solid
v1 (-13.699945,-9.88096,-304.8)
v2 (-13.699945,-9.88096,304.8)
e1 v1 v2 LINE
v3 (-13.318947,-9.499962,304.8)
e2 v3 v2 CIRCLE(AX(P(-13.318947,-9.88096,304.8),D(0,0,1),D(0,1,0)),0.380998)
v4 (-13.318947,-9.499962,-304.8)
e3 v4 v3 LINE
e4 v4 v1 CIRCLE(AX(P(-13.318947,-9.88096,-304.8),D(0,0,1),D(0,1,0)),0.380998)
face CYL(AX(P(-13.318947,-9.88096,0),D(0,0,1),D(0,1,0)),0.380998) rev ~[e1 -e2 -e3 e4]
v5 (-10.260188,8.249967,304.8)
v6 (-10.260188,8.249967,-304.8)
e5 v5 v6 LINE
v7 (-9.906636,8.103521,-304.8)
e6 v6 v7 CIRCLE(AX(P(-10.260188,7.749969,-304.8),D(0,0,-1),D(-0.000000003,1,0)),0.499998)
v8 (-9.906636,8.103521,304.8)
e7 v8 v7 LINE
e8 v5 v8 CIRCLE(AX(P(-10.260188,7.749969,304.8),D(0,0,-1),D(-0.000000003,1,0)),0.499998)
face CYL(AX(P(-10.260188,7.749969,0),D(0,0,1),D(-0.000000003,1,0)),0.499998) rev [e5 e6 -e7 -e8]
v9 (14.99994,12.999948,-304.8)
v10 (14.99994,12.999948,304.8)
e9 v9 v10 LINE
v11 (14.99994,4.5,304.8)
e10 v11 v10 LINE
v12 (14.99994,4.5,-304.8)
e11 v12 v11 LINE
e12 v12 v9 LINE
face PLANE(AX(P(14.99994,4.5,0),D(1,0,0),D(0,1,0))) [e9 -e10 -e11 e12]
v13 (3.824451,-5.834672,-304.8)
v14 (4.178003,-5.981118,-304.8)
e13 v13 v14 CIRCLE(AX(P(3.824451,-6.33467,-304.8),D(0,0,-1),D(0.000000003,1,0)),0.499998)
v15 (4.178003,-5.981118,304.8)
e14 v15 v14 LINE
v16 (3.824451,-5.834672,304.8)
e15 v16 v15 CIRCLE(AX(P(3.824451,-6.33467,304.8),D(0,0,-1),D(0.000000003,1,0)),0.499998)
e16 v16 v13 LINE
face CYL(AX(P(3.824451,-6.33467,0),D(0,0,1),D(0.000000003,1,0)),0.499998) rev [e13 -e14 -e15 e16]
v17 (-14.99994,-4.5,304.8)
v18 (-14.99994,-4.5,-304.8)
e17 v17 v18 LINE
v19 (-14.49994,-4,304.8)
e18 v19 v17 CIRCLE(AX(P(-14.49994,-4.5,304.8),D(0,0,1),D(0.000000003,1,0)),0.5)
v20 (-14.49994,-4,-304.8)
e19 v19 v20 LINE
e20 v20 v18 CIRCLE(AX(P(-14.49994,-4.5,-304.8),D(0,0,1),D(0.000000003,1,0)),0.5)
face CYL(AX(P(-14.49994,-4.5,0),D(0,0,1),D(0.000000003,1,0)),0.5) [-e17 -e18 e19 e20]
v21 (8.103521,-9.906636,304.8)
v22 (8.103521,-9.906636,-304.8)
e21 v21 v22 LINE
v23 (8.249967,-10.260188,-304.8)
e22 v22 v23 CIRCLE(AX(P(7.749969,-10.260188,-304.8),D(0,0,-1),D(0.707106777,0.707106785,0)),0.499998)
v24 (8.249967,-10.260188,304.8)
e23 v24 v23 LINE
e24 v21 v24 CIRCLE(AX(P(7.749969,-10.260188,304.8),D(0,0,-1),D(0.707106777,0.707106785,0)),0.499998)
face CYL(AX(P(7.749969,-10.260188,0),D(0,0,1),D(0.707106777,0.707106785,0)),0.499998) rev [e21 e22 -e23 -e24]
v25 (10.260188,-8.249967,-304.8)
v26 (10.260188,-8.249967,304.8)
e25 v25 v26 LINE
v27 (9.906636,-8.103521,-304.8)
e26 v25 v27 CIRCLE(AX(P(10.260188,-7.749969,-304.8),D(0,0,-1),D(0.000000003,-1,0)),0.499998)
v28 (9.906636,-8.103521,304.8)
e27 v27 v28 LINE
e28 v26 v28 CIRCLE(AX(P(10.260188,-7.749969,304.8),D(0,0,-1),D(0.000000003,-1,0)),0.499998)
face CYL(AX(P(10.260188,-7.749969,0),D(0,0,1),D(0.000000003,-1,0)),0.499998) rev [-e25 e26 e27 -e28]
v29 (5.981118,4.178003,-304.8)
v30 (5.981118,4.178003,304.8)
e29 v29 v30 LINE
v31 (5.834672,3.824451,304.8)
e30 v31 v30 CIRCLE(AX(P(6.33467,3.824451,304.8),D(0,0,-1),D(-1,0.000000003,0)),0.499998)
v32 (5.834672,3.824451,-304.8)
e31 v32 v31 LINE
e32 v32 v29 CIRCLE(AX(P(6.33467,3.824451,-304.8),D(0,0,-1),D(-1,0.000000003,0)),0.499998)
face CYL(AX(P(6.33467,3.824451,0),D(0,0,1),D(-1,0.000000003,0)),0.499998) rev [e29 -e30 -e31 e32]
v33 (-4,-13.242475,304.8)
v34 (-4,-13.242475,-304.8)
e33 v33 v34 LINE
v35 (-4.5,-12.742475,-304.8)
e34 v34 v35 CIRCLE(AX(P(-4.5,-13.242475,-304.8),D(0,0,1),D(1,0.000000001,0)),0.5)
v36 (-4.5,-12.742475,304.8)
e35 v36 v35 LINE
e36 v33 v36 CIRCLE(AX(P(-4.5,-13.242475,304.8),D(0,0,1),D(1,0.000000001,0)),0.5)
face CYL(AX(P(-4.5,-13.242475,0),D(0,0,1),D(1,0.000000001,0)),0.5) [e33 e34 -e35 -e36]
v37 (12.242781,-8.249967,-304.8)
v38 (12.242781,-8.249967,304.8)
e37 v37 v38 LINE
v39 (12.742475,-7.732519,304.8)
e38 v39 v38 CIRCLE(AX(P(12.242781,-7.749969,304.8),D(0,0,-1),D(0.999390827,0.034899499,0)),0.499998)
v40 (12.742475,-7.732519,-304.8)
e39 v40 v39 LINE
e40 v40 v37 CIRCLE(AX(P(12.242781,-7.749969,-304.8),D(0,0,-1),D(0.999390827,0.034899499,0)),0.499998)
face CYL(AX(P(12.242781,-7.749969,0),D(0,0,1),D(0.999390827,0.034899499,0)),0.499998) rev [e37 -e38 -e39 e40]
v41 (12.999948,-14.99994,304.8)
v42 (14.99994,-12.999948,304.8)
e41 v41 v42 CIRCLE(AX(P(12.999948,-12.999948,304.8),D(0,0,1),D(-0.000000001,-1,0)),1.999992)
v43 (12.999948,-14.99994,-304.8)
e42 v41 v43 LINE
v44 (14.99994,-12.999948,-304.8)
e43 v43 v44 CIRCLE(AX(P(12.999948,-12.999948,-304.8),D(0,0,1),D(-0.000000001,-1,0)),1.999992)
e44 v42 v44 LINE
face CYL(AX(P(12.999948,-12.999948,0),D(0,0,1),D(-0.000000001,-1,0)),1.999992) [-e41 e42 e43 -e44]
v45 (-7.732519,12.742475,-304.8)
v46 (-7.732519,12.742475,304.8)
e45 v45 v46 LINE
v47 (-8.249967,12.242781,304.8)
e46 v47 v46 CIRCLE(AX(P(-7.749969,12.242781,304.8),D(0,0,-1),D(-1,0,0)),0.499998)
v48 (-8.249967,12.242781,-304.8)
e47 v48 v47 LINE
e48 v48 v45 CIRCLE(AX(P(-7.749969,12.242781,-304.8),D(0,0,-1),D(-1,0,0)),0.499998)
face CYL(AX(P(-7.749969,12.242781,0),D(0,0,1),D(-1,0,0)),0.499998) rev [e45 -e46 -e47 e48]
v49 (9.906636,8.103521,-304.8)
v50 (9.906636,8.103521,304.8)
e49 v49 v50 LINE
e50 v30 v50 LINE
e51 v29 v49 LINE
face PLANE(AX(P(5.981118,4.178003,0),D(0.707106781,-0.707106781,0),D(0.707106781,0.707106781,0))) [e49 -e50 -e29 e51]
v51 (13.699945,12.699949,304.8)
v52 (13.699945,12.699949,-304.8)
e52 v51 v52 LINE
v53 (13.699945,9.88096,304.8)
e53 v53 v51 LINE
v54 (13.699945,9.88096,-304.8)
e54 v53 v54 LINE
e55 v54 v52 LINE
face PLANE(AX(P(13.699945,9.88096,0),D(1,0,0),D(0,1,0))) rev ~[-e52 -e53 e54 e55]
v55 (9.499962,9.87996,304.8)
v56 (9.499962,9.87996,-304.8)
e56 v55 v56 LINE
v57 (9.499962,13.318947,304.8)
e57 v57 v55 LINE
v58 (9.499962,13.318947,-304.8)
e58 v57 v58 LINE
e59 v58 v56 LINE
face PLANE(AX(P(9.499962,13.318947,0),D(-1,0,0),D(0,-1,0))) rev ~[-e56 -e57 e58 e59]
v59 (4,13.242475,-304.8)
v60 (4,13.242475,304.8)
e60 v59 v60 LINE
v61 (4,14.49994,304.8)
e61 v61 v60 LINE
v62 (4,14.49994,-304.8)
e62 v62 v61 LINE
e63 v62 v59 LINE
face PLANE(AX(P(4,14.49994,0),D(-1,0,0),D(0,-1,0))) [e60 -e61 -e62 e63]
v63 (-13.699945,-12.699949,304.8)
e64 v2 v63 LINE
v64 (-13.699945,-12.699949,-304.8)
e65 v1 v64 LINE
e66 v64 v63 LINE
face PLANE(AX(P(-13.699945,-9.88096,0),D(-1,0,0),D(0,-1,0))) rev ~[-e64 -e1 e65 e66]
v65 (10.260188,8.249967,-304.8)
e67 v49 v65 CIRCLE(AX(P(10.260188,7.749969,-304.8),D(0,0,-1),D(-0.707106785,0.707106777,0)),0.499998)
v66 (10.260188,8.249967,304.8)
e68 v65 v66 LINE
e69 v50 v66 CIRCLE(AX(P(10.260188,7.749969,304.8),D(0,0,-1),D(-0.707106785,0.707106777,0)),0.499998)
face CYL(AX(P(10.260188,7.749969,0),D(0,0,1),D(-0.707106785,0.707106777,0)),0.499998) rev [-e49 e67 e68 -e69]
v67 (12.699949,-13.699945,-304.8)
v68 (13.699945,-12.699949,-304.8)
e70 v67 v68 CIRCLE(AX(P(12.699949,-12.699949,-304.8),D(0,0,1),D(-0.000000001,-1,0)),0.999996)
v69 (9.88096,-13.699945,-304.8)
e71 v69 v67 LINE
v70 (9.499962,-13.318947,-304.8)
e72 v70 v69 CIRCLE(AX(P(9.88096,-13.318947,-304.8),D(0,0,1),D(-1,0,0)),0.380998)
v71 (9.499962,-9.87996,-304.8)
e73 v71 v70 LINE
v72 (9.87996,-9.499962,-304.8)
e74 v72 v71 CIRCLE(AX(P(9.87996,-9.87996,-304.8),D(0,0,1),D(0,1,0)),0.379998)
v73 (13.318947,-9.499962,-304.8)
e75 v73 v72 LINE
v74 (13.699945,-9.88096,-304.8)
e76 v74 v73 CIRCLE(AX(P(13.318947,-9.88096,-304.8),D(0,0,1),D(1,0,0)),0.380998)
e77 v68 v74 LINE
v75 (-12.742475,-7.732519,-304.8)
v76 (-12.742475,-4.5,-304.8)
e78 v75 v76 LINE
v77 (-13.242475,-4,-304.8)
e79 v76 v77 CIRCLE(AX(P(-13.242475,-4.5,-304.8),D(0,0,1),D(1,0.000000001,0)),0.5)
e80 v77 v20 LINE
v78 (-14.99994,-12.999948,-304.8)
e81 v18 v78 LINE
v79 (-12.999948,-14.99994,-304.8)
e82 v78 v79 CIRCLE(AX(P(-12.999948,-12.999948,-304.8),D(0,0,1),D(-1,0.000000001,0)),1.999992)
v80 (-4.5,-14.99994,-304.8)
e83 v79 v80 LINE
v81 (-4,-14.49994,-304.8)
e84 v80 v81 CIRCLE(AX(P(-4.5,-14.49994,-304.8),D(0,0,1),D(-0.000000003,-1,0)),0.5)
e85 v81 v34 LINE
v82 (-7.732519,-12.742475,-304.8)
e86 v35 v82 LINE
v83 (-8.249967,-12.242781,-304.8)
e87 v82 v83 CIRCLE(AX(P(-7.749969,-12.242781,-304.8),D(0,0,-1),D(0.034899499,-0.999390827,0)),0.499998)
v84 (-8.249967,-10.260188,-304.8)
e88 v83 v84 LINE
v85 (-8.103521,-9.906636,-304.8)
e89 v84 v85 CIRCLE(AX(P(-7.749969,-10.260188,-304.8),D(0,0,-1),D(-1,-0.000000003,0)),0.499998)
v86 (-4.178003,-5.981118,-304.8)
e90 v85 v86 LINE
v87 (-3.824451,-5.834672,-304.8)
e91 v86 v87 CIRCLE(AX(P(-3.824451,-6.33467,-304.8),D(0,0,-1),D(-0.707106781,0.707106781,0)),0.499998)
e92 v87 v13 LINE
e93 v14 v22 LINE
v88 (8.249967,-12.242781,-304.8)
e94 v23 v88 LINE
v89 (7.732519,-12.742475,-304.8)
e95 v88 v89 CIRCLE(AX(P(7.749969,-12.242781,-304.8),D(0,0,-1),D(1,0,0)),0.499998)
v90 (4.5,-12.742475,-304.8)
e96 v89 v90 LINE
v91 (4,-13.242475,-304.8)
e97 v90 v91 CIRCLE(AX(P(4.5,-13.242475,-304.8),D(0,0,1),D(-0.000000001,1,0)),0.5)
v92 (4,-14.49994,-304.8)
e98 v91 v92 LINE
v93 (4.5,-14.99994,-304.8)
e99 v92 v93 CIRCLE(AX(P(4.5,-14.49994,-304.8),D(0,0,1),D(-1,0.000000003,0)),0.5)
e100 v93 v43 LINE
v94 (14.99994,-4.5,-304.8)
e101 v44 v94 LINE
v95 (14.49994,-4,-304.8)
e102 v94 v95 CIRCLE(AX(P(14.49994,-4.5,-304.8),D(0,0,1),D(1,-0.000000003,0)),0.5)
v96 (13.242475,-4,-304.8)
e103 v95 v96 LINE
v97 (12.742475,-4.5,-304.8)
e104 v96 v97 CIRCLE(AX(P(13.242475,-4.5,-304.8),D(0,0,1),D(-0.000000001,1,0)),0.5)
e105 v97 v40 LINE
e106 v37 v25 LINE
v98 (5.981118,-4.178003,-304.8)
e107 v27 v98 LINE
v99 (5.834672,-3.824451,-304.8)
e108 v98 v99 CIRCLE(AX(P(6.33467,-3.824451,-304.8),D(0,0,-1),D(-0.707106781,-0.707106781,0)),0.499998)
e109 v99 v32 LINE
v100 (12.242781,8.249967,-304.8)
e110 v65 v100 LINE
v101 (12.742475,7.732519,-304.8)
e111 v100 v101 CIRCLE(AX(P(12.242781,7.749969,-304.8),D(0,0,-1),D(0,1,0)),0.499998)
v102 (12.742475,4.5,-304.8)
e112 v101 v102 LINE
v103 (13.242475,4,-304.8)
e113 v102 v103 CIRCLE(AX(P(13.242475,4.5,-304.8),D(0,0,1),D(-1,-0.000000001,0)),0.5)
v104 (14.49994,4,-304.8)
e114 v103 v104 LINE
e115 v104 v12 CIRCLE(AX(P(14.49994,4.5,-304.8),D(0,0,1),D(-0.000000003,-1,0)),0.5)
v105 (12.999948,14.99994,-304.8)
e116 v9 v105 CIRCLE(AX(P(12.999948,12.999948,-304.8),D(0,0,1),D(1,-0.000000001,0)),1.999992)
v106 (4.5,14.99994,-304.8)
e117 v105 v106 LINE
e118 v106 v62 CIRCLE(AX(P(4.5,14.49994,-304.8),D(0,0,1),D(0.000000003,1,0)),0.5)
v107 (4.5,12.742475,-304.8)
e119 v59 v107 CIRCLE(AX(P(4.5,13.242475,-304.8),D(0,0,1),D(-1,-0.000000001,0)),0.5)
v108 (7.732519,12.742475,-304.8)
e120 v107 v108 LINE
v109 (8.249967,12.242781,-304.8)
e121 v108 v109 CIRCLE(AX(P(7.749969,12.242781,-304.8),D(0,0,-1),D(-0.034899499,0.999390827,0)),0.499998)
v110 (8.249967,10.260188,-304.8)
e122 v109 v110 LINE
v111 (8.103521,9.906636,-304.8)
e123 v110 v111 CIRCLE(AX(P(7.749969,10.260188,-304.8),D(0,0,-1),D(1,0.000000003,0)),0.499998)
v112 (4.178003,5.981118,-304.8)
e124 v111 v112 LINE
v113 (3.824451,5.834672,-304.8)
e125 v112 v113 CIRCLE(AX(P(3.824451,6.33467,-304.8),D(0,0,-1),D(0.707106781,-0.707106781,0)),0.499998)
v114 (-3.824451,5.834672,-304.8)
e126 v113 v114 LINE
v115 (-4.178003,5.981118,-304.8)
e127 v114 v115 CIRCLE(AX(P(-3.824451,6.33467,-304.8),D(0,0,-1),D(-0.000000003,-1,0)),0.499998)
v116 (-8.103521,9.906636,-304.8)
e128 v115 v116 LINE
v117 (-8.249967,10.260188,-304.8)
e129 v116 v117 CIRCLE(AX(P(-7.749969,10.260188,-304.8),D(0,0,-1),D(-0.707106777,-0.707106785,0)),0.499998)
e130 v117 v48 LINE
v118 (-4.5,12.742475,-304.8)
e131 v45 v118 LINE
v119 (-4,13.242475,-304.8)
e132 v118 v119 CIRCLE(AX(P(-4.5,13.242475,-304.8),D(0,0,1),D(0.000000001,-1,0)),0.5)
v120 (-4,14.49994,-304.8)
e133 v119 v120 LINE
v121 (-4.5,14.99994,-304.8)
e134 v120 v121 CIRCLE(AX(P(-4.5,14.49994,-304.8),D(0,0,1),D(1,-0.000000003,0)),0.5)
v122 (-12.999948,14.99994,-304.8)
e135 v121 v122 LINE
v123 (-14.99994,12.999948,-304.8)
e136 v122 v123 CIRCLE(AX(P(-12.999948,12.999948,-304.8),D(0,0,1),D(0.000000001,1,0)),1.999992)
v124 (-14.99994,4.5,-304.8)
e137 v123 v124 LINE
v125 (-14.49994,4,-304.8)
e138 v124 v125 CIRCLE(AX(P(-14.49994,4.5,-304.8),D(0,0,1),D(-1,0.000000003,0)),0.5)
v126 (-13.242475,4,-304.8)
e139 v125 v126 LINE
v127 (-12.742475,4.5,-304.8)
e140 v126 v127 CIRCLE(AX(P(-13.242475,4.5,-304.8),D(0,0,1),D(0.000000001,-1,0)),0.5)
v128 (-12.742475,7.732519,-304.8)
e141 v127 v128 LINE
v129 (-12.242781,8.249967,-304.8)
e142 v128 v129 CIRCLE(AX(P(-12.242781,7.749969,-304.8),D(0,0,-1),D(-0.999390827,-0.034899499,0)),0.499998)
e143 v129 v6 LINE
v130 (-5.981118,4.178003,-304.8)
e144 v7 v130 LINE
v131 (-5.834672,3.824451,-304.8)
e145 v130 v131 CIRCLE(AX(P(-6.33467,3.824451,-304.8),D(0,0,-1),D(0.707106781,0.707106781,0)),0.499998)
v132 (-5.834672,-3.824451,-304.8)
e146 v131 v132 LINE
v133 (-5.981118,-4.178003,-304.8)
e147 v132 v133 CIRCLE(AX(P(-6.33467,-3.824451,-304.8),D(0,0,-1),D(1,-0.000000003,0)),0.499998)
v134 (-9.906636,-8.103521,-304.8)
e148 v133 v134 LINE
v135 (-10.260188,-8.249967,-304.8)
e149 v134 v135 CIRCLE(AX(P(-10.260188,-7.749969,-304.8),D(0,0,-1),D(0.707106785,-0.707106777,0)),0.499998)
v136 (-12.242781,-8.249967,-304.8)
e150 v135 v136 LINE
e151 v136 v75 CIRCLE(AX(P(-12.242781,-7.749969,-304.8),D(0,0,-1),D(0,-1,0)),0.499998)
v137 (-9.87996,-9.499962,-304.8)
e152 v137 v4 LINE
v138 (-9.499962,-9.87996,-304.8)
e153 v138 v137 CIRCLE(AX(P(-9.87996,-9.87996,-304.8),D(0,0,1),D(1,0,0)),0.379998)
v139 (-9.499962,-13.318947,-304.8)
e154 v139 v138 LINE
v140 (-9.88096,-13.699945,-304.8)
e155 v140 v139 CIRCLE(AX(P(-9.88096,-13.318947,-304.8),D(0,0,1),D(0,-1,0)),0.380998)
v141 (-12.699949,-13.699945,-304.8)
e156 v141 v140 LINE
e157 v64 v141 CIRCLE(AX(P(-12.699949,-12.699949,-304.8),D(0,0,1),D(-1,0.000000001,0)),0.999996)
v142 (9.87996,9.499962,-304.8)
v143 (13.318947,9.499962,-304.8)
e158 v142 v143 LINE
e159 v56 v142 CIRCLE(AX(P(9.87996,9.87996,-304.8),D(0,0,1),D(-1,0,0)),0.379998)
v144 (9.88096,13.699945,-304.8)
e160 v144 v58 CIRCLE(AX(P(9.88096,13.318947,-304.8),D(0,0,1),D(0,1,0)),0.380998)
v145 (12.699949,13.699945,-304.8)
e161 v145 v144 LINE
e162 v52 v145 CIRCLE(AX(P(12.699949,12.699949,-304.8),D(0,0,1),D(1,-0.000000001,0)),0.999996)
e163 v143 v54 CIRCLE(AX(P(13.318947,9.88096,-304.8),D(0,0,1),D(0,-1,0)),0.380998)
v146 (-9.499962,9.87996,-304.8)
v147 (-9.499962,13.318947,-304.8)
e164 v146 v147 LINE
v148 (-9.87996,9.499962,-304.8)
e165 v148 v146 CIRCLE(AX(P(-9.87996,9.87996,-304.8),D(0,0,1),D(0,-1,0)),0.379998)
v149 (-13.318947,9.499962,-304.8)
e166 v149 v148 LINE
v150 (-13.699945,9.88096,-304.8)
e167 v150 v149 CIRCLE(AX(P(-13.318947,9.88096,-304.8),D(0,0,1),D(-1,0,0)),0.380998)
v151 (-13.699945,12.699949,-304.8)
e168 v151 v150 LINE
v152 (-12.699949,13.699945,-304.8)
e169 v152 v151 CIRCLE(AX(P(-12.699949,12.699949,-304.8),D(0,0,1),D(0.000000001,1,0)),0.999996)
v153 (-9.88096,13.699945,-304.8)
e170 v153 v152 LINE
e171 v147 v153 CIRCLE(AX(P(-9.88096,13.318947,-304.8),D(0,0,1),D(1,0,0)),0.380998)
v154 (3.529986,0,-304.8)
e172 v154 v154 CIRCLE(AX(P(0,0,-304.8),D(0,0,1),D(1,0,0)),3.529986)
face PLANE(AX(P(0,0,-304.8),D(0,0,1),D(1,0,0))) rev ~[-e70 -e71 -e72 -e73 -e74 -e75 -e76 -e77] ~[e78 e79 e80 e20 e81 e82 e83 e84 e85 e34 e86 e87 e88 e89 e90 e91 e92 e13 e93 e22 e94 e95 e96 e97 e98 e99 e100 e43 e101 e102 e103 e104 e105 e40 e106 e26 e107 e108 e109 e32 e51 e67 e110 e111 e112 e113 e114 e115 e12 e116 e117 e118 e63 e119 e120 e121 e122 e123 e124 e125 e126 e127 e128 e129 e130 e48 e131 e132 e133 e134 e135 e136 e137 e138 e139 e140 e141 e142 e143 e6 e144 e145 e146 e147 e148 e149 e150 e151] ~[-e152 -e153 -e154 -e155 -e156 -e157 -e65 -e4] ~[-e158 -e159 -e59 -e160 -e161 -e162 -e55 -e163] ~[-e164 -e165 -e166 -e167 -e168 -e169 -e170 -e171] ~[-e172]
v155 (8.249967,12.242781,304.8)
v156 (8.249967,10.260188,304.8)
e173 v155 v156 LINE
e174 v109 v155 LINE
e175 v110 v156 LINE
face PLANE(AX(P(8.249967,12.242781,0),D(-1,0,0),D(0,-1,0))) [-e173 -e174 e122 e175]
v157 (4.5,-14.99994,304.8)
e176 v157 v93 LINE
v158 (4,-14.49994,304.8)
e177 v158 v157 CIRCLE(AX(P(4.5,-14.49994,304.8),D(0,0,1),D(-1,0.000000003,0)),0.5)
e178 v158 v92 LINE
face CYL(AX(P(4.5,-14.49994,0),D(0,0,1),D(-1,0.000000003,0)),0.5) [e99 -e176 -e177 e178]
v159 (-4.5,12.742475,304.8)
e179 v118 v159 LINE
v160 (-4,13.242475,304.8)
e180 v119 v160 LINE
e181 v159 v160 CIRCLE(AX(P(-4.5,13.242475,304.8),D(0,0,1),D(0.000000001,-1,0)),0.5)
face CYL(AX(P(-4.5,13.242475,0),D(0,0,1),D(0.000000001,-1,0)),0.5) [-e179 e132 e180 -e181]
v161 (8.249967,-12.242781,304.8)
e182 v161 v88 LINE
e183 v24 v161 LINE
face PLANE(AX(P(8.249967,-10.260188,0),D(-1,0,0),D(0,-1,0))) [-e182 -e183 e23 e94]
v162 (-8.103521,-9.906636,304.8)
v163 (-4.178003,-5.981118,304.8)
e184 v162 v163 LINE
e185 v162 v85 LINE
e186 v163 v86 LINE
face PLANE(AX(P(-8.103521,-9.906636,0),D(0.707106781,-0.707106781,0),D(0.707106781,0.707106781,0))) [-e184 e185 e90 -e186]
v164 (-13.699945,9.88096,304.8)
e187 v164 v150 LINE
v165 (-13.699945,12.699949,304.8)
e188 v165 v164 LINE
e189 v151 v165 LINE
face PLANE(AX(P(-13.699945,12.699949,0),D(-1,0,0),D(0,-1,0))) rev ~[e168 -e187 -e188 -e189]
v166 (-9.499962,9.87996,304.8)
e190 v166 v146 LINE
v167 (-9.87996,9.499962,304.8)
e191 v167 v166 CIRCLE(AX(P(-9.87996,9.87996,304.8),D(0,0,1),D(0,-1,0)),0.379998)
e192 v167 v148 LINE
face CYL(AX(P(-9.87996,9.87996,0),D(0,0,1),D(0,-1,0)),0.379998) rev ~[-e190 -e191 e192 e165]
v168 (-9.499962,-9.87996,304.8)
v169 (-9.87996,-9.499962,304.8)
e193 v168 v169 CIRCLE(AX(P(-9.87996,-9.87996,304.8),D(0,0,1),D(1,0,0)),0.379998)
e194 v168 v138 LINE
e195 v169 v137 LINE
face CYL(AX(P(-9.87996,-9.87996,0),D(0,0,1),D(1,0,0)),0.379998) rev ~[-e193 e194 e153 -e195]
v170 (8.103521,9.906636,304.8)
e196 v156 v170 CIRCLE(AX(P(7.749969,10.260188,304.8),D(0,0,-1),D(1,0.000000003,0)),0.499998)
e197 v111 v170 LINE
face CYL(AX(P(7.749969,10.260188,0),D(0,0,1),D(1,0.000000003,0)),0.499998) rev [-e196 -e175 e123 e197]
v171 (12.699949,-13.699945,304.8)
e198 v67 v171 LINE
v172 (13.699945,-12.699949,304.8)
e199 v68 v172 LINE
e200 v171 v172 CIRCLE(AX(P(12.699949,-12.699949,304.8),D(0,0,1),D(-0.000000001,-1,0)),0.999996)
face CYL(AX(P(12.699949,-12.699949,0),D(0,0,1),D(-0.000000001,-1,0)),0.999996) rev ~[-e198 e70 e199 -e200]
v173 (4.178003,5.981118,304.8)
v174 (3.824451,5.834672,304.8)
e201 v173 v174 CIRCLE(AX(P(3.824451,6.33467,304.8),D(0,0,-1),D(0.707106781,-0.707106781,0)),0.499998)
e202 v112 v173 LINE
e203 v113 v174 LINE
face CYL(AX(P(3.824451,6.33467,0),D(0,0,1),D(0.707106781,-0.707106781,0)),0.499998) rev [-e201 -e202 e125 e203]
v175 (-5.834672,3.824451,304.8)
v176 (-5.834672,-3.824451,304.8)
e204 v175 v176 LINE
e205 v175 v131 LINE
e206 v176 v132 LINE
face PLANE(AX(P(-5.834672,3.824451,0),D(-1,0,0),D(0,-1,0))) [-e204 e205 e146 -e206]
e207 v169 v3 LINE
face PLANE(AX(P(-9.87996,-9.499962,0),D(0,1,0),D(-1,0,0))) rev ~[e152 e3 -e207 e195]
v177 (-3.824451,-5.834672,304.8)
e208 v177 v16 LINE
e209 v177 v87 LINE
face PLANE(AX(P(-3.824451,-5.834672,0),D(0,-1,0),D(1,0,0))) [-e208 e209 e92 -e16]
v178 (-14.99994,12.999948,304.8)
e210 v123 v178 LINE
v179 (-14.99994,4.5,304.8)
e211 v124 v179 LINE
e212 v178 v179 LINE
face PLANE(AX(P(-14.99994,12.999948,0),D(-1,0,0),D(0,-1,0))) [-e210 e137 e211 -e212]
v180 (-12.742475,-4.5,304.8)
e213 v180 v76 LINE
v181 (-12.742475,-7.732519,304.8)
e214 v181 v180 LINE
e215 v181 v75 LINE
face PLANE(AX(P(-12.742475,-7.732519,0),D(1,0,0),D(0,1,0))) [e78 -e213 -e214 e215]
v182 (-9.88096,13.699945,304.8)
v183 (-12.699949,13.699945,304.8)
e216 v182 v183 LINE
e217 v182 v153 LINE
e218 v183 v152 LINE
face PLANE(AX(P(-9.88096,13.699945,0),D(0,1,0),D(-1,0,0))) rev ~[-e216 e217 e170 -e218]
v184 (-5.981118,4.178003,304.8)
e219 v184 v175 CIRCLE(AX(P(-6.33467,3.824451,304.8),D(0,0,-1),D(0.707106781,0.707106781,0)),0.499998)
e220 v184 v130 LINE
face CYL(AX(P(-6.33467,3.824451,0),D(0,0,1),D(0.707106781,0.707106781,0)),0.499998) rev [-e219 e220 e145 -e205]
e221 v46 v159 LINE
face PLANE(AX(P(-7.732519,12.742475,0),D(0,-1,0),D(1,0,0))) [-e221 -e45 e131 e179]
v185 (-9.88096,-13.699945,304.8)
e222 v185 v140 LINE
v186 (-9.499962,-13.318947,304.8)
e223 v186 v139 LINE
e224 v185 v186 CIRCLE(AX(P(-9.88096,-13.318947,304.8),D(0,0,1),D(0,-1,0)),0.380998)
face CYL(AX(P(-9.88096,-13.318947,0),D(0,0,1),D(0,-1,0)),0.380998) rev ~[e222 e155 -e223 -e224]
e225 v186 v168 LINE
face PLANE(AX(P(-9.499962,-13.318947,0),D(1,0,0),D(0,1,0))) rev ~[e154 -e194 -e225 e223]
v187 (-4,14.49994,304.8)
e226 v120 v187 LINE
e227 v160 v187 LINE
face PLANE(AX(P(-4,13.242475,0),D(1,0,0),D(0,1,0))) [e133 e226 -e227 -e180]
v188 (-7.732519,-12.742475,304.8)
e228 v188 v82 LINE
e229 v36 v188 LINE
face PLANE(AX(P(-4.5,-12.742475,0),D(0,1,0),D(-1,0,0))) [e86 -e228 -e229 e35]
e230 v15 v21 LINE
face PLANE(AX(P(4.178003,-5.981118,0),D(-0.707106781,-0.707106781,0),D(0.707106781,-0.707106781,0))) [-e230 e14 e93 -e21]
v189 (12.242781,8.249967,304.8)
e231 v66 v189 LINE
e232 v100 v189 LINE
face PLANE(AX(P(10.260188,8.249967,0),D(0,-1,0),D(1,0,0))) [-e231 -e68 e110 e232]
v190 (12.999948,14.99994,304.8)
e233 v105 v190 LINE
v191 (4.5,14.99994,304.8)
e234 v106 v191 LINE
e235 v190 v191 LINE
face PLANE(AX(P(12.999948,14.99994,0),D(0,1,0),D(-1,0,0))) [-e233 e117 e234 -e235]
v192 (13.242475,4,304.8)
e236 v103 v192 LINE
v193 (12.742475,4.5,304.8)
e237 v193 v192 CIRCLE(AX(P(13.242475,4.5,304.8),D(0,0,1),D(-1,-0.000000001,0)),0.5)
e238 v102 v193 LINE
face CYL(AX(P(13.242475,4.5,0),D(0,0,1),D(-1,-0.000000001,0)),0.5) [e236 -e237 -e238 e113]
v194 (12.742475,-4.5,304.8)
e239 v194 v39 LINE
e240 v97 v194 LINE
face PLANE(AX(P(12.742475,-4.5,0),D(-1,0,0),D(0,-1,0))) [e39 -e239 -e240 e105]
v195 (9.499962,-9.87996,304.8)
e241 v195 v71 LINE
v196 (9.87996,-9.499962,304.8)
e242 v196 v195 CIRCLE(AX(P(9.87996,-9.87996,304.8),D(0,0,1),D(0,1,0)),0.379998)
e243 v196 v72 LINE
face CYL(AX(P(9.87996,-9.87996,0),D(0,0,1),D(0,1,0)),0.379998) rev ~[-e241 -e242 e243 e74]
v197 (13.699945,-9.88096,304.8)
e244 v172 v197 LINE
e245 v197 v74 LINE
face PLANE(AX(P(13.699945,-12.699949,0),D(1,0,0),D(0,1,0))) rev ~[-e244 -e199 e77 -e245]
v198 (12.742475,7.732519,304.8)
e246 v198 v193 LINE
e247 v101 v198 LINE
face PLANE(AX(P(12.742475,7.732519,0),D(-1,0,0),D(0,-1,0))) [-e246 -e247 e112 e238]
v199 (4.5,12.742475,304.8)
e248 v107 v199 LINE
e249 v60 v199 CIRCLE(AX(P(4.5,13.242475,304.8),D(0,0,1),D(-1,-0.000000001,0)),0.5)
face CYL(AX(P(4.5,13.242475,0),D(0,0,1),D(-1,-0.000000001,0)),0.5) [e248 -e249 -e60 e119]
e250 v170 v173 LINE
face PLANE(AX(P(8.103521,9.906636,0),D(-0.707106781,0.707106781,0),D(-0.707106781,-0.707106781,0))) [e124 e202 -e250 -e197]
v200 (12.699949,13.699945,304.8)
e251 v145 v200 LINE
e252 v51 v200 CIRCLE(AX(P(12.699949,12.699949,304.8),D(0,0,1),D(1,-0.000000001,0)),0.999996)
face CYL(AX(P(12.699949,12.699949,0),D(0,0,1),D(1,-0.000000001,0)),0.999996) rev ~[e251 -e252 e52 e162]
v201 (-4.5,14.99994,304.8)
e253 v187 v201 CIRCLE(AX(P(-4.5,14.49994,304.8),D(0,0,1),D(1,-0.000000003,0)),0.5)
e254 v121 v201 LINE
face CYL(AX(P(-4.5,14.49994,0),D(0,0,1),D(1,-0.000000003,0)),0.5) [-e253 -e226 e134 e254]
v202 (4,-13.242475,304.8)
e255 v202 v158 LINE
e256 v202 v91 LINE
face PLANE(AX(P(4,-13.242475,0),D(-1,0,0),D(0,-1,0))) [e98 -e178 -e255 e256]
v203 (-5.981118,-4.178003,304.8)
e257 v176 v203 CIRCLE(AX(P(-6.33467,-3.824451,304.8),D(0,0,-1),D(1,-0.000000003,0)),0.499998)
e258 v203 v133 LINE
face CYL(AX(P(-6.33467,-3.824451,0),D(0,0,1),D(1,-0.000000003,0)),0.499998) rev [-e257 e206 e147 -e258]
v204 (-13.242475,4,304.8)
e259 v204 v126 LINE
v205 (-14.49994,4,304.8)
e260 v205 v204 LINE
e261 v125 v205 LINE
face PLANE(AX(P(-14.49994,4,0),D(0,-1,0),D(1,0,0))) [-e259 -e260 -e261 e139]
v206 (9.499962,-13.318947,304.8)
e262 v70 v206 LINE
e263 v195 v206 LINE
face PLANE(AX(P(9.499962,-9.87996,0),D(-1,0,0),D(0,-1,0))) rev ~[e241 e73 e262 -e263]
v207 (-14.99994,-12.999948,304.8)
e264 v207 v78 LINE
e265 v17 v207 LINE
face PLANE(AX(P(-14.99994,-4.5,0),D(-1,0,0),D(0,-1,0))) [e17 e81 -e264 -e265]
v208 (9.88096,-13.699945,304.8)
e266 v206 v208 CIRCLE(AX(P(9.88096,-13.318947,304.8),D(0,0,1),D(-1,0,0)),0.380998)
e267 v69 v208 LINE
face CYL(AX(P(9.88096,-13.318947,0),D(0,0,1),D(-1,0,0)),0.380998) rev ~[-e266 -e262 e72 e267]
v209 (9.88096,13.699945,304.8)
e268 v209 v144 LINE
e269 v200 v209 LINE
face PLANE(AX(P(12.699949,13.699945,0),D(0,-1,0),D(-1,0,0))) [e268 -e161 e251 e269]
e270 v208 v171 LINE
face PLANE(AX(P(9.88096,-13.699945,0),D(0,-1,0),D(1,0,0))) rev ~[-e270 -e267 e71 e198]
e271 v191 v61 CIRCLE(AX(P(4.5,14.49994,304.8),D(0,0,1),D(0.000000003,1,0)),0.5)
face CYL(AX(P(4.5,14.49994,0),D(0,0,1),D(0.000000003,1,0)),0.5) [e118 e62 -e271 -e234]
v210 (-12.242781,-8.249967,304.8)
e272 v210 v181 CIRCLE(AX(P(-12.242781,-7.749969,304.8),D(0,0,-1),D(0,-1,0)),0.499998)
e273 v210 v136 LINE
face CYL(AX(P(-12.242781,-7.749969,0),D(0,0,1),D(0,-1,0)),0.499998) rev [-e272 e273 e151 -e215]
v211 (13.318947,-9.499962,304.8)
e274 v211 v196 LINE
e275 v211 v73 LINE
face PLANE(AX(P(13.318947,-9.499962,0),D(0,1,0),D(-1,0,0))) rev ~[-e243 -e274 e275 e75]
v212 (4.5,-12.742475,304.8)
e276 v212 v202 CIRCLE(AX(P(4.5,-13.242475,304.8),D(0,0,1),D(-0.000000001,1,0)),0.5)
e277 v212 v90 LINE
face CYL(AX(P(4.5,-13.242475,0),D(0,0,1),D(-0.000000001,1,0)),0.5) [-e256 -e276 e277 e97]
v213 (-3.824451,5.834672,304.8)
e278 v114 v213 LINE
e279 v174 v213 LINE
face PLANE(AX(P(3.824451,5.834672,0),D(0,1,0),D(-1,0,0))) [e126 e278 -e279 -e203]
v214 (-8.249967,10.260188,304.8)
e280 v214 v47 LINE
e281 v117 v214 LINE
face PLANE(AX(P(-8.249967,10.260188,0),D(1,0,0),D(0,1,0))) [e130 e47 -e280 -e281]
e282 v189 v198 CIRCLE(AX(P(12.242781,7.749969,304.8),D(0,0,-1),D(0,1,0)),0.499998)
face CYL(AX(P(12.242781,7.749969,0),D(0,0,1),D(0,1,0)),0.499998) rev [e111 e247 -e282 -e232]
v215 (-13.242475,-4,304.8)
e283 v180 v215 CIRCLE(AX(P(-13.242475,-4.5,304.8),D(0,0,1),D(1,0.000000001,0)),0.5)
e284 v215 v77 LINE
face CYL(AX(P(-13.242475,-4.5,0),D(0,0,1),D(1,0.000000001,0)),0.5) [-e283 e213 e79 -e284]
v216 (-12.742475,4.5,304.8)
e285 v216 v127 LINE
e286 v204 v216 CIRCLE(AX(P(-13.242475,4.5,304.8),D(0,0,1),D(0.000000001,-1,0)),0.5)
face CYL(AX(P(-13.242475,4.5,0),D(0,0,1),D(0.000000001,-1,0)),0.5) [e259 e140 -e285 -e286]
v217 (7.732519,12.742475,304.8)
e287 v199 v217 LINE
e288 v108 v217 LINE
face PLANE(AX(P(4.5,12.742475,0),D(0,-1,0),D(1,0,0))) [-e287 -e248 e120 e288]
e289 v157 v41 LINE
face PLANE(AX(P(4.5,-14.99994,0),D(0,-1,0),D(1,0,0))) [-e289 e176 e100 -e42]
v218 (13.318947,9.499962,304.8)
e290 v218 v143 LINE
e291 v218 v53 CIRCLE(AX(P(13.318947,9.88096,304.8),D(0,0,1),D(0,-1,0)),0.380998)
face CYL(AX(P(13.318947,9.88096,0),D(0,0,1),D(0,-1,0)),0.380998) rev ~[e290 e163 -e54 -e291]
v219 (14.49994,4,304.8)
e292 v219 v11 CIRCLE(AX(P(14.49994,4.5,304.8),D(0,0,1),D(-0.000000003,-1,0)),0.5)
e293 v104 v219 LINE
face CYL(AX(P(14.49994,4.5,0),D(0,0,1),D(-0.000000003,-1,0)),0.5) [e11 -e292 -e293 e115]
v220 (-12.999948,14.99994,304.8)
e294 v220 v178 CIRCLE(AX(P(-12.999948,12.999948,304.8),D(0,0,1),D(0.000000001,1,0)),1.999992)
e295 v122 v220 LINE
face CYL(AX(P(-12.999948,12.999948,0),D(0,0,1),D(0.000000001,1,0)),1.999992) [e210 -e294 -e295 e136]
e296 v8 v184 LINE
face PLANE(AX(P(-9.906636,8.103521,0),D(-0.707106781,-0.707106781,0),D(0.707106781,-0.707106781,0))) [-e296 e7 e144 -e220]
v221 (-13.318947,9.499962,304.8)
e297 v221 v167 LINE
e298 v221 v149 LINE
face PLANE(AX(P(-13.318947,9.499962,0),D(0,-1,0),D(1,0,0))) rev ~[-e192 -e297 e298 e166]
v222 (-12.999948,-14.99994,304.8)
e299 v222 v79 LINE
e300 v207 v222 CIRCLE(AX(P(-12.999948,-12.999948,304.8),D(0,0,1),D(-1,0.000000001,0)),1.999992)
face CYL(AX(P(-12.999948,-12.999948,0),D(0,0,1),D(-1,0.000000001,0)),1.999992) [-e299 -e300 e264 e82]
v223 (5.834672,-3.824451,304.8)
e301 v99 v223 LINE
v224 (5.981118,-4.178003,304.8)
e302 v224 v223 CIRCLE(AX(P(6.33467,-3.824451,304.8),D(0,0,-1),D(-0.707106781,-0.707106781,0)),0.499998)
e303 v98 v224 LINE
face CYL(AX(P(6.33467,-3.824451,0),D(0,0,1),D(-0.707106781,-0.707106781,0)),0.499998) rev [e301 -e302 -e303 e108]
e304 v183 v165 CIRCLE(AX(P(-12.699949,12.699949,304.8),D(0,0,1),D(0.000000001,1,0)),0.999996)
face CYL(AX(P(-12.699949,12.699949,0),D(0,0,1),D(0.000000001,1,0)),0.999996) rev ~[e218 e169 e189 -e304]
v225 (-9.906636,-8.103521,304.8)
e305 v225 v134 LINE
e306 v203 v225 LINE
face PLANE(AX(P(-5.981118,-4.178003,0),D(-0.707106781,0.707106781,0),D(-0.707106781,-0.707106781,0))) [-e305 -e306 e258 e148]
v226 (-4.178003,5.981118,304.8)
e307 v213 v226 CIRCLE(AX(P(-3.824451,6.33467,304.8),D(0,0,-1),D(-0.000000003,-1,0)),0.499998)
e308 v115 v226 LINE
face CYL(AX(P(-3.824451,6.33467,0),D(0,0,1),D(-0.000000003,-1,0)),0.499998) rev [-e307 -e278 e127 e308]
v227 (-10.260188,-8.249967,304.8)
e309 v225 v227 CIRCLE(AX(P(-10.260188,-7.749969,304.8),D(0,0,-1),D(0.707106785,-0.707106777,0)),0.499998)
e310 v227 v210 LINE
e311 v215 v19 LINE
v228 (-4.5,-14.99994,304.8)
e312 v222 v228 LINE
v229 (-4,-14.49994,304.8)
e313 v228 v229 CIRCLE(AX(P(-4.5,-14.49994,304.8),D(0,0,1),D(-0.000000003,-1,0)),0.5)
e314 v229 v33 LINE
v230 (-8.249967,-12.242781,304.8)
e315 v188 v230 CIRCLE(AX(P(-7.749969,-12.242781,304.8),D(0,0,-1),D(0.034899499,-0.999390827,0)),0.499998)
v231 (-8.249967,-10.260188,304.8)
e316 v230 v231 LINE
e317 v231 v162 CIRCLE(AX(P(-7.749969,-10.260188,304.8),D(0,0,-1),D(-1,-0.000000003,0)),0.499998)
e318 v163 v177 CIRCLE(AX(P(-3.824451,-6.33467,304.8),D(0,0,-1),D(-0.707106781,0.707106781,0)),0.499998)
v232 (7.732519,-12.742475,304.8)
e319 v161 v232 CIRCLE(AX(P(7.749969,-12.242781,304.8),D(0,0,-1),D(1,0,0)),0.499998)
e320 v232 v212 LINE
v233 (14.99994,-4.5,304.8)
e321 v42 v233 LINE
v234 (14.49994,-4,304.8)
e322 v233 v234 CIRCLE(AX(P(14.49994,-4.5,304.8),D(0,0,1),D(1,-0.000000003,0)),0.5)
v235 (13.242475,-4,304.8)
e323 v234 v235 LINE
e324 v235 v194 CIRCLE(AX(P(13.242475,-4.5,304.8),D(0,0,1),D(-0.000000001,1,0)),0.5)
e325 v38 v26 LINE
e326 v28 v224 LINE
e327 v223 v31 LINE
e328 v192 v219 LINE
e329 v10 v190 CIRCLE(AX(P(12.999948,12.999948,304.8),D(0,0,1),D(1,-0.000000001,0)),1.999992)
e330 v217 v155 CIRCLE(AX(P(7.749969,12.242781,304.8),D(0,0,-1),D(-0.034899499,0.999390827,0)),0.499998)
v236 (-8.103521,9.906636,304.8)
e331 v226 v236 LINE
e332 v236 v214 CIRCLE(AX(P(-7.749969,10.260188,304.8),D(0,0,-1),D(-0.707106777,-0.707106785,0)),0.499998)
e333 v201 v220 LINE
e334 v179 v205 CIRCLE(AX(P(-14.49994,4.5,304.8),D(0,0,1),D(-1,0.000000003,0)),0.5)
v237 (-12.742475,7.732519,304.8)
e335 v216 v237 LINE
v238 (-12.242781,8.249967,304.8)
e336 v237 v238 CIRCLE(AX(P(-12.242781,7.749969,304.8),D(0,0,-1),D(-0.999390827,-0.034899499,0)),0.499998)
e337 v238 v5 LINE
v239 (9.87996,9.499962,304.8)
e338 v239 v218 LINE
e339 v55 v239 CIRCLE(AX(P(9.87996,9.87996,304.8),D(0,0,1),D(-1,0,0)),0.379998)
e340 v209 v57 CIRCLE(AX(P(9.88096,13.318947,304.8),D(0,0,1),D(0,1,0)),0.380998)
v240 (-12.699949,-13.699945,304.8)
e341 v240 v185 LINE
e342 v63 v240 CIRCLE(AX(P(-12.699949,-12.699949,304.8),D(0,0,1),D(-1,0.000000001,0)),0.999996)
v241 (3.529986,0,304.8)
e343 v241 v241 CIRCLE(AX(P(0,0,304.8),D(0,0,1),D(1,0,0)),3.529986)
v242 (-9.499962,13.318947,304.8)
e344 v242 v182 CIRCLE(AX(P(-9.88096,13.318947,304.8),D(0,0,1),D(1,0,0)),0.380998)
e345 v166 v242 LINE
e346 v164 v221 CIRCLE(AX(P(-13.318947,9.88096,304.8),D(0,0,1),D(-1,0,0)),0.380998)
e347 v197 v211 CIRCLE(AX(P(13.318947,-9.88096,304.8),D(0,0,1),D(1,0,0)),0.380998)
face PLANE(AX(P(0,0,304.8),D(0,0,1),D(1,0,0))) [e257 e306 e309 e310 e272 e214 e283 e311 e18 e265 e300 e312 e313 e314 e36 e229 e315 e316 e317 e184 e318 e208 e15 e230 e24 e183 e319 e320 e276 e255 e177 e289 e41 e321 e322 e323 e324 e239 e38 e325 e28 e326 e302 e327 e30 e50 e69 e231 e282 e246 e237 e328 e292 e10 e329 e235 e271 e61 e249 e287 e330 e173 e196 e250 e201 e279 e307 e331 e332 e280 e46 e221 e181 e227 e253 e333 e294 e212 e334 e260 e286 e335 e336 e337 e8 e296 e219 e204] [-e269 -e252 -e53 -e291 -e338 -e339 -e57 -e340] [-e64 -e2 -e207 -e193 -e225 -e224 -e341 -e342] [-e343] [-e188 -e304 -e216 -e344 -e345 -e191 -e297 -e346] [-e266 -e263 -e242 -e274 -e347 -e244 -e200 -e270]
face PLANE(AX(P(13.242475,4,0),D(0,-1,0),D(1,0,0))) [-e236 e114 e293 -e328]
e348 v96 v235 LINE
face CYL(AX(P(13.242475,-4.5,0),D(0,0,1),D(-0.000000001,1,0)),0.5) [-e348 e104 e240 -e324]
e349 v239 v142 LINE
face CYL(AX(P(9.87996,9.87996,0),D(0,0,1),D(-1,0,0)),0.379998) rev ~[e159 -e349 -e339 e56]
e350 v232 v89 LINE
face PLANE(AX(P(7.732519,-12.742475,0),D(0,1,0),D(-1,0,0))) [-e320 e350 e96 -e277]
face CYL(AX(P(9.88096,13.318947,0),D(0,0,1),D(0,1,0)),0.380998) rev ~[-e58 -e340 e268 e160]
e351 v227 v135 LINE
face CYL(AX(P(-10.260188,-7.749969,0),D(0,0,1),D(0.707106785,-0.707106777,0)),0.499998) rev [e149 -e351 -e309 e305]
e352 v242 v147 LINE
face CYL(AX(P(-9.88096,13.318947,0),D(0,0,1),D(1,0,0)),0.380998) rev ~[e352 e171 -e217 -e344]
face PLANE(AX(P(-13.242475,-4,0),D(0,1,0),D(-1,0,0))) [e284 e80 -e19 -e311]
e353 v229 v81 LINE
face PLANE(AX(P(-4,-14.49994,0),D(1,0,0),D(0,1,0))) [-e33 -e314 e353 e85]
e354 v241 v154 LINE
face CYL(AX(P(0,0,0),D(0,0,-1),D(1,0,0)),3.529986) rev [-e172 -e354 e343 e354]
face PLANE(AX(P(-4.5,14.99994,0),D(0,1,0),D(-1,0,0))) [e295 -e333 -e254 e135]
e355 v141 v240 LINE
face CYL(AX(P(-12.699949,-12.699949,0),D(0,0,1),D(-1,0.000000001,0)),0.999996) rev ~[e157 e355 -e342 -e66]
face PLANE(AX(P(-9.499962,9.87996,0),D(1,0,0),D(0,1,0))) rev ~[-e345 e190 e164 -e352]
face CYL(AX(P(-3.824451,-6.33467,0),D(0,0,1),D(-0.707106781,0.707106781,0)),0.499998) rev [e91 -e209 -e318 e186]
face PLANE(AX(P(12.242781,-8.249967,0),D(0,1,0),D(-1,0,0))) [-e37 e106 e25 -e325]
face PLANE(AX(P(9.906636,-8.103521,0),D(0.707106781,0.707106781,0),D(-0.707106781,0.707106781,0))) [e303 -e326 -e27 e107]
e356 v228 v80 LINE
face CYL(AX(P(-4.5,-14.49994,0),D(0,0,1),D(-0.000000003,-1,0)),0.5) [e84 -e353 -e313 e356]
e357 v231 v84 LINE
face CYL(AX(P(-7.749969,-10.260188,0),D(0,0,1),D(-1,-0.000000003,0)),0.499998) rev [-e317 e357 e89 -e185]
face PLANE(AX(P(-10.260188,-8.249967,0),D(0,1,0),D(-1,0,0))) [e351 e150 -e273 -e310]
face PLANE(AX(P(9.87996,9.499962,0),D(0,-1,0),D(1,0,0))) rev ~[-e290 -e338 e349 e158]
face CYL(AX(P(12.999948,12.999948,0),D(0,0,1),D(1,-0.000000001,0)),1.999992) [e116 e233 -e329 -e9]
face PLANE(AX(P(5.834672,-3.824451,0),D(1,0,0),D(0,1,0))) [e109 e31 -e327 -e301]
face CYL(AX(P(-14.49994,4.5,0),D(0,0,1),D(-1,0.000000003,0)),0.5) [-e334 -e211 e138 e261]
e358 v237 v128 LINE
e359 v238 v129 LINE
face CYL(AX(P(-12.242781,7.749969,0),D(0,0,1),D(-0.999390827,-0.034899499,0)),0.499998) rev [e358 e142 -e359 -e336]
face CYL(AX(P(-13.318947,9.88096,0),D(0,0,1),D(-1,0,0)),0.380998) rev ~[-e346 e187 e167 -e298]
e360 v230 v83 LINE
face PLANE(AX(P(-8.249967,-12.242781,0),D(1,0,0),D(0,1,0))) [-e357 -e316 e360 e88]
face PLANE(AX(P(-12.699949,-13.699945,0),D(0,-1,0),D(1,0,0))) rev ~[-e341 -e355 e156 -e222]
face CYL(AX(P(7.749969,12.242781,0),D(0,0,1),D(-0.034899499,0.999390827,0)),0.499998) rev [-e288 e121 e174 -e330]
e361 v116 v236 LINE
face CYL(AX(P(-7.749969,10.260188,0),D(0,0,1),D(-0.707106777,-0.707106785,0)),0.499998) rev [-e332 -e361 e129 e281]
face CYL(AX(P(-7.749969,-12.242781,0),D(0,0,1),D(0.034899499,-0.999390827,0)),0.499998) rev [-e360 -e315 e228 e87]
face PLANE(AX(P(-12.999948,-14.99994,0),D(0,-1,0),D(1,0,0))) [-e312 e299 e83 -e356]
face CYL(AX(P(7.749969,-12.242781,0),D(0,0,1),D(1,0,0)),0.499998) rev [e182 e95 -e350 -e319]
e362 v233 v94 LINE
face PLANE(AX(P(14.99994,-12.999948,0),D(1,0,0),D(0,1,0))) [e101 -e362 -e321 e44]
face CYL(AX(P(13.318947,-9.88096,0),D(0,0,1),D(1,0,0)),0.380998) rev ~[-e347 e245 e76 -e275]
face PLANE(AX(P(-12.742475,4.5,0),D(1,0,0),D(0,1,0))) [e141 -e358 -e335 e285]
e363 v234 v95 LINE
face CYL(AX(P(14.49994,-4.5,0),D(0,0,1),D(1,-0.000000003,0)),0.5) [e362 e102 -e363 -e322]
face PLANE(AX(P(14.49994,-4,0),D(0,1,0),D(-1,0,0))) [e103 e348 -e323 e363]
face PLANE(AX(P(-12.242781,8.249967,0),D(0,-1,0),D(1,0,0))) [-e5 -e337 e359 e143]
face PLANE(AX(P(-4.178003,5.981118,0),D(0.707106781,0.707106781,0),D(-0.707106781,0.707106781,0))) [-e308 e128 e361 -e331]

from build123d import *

# Parameters (mm, degrees)
SKETCH1_R           = 3.52998588
BOSS_EXTRUDE1_DEPTH = 304.8


with BuildPart() as part:
    # Sketch1 → Boss-Extrude1 (new, symmetric)
    with BuildSketch(Plane.XY):
        with BuildLine():
            Line((14.49994, -4), (13.24247465, -4))
            ThreePointArc((13.24247465, -4), (12.88892126, -4.146446609), (12.74247465, -4.5))
            Line((12.74247465, -4.5), (12.74247465, -7.732519321))
            ThreePointArc((12.74247465, -7.732519321), (12.602449697, -8.097296796), (12.242781236, -8.249967))
            Line((12.242781236, -8.249967), (10.260188032, -8.249967))
            ThreePointArc((10.260188032, -8.249967), (10.068847082, -8.211906919), (9.906636056, -8.103520976))
            Line((9.906636056, -8.103520976), (5.981117769, -4.178002689))
            ThreePointArc((5.981117769, -4.178002689), (5.872731827, -4.015791664), (5.834671745, -3.824450713))
            Line((5.834671745, -3.824450713), (5.834671745, -1.01249595))
            Line((5.834671745, -1.01249595), (5.834671745, 0.88749645))
            Line((5.834671745, 0.88749645), (5.834671745, 3.824450713))
            ThreePointArc((5.834671745, 3.824450713), (5.872731827, 4.015791664), (5.981117769, 4.178002689))
            Line((5.981117769, 4.178002689), (9.906636056, 8.103520976))
            ThreePointArc((9.906636056, 8.103520976), (10.068847082, 8.211906919), (10.260188032, 8.249967))
            Line((10.260188032, 8.249967), (12.242781236, 8.249967))
            ThreePointArc((12.242781236, 8.249967), (12.602449697, 8.097296796), (12.74247465, 7.732519321))
            Line((12.74247465, 7.732519321), (12.74247465, 4.5))
            ThreePointArc((12.74247465, 4.5), (12.88892126, 4.146446609), (13.24247465, 4))
            Line((13.24247465, 4), (14.49994, 4))
            ThreePointArc((14.49994, 4), (14.853493391, 4.146446609), (14.99994, 4.5))
            Line((14.99994, 4.5), (14.99994, 12.999948))
            ThreePointArc((14.99994, 12.999948), (14.414155906, 14.414155906), (12.999948, 14.99994))
            Line((12.999948, 14.99994), (4.5, 14.99994))
            ThreePointArc((4.5, 14.99994), (4.146446609, 14.853493391), (4, 14.49994))
            Line((4, 14.49994), (4, 13.24247465))
            ThreePointArc((4, 13.24247465), (4.146446609, 12.88892126), (4.5, 12.74247465))
            Line((4.5, 12.74247465), (7.732519321, 12.74247465))
            ThreePointArc((7.732519321, 12.74247465), (8.097296796, 12.602449697), (8.249967, 12.242781236))
            Line((8.249967, 12.242781236), (8.249967, 10.260188032))
            ThreePointArc((8.249967, 10.260188032), (8.211906919, 10.068847082), (8.103520976, 9.906636056))
            Line((8.103520976, 9.906636056), (4.178002689, 5.981117769))
            ThreePointArc((4.178002689, 5.981117769), (4.015791664, 5.872731827), (3.824450713, 5.834671745))
            Line((3.824450713, 5.834671745), (0.9499962, 5.834671745))
            Line((0.9499962, 5.834671745), (-0.9499962, 5.834671745))
            Line((-0.9499962, 5.834671745), (-3.824450713, 5.834671745))
            ThreePointArc((-3.824450713, 5.834671745), (-4.015791664, 5.872731827), (-4.178002689, 5.981117769))
            Line((-4.178002689, 5.981117769), (-8.103520976, 9.906636056))
            ThreePointArc((-8.103520976, 9.906636056), (-8.211906919, 10.068847082), (-8.249967, 10.260188032))
            Line((-8.249967, 10.260188032), (-8.249967, 12.242781236))
            ThreePointArc((-8.249967, 12.242781236), (-8.097296796, 12.602449697), (-7.732519321, 12.74247465))
            Line((-7.732519321, 12.74247465), (-4.5, 12.74247465))
            ThreePointArc((-4.5, 12.74247465), (-4.146446609, 12.88892126), (-4, 13.24247465))
            Line((-4, 13.24247465), (-4, 14.49994))
            ThreePointArc((-4, 14.49994), (-4.146446609, 14.853493391), (-4.5, 14.99994))
            Line((-4.5, 14.99994), (-12.999948, 14.99994))
            ThreePointArc((-12.999948, 14.99994), (-14.414155906, 14.414155906), (-14.99994, 12.999948))
            Line((-14.99994, 12.999948), (-14.99994, 4.5))
            ThreePointArc((-14.99994, 4.5), (-14.853493391, 4.146446609), (-14.49994, 4))
            Line((-14.49994, 4), (-13.24247465, 4))
            ThreePointArc((-13.24247465, 4), (-12.88892126, 4.146446609), (-12.74247465, 4.5))
            Line((-12.74247465, 4.5), (-12.74247465, 7.732519321))
            ThreePointArc((-12.74247465, 7.732519321), (-12.602449697, 8.097296796), (-12.242781236, 8.249967))
            Line((-12.242781236, 8.249967), (-10.260188032, 8.249967))
            ThreePointArc((-10.260188032, 8.249967), (-10.068847082, 8.211906919), (-9.906636056, 8.103520976))
            Line((-9.906636056, 8.103520976), (-5.981117769, 4.178002689))
            ThreePointArc((-5.981117769, 4.178002689), (-5.872731827, 4.015791664), (-5.834671745, 3.824450713))
            Line((-5.834671745, 3.824450713), (-5.834671745, 0.88749645))
            Line((-5.834671745, 0.88749645), (-5.834671745, -1.01249595))
            Line((-5.834671745, -1.01249595), (-5.834671745, -3.824450713))
            ThreePointArc((-5.834671745, -3.824450713), (-5.872731827, -4.015791664), (-5.981117769, -4.178002689))
            Line((-5.981117769, -4.178002689), (-9.906636056, -8.103520976))
            ThreePointArc((-9.906636056, -8.103520976), (-10.068847082, -8.211906919), (-10.260188032, -8.249967))
            Line((-10.260188032, -8.249967), (-12.242781236, -8.249967))
            ThreePointArc((-12.242781236, -8.249967), (-12.602449697, -8.097296796), (-12.74247465, -7.732519321))
            Line((-12.74247465, -7.732519321), (-12.74247465, -4.5))
            ThreePointArc((-12.74247465, -4.5), (-12.88892126, -4.146446609), (-13.24247465, -4))
            Line((-13.24247465, -4), (-14.49994, -4))
            ThreePointArc((-14.49994, -4), (-14.853493391, -4.146446609), (-14.99994, -4.5))
            Line((-14.99994, -4.5), (-14.99994, -12.999948))
            ThreePointArc((-14.99994, -12.999948), (-14.414155906, -14.414155906), (-12.999948, -14.99994))
            Line((-12.999948, -14.99994), (-4.5, -14.99994))
            ThreePointArc((-4.5, -14.99994), (-4.146446609, -14.853493391), (-4, -14.49994))
            Line((-4, -14.49994), (-4, -13.24247465))
            ThreePointArc((-4, -13.24247465), (-4.146446609, -12.88892126), (-4.5, -12.74247465))
            Line((-4.5, -12.74247465), (-7.732519321, -12.74247465))
            ThreePointArc((-7.732519321, -12.74247465), (-8.097296796, -12.602449697), (-8.249967, -12.242781236))
            Line((-8.249967, -12.242781236), (-8.249967, -10.260188032))
            ThreePointArc((-8.249967, -10.260188032), (-8.211906919, -10.068847082), (-8.103520976, -9.906636056))
            Line((-8.103520976, -9.906636056), (-4.178002689, -5.981117769))
            ThreePointArc((-4.178002689, -5.981117769), (-4.015791664, -5.872731827), (-3.824450713, -5.834671745))
            Line((-3.824450713, -5.834671745), (-0.9499962, -5.834671745))
            Line((-0.9499962, -5.834671745), (0.9499962, -5.834671745))
            Line((0.9499962, -5.834671745), (3.824450713, -5.834671745))
            ThreePointArc((3.824450713, -5.834671745), (4.015791664, -5.872731827), (4.178002689, -5.981117769))
            Line((4.178002689, -5.981117769), (8.103520976, -9.906636056))
            ThreePointArc((8.103520976, -9.906636056), (8.211906919, -10.068847082), (8.249967, -10.260188032))
            Line((8.249967, -10.260188032), (8.249967, -12.242781236))
            ThreePointArc((8.249967, -12.242781236), (8.097296796, -12.602449697), (7.732519321, -12.74247465))
            Line((7.732519321, -12.74247465), (4.5, -12.74247465))
            ThreePointArc((4.5, -12.74247465), (4.146446609, -12.88892126), (4, -13.24247465))
            Line((4, -13.24247465), (4, -14.49994))
            ThreePointArc((4, -14.49994), (4.146446609, -14.853493391), (4.5, -14.99994))
            Line((4.5, -14.99994), (12.999948, -14.99994))
            ThreePointArc((12.999948, -14.99994), (14.414155906, -14.414155906), (14.99994, -12.999948))
            Line((14.99994, -12.999948), (14.99994, -4.5))
            ThreePointArc((14.99994, -4.5), (14.853493391, -4.146446609), (14.49994, -4))
        make_face()
        Circle(SKETCH1_R, mode=Mode.SUBTRACT)
        with BuildLine():
            Line((-12.6999492, -13.6999452), (-9.880960476, -13.6999452))
            ThreePointArc((-9.880960476, -13.6999452), (-9.61155387, -13.58835333), (-9.499962, -13.318946724))
            Line((-9.499962, -13.318946724), (-9.499962, -9.87996048))
            ThreePointArc((-9.499962, -9.87996048), (-9.611260978, -9.611260978), (-9.87996048, -9.499962))
            Line((-9.87996048, -9.499962), (-13.318946724, -9.499962))
            ThreePointArc((-13.318946724, -9.499962), (-13.58835333, -9.61155387), (-13.6999452, -9.880960476))
            Line((-13.6999452, -9.880960476), (-13.6999452, -12.6999492))
            ThreePointArc((-13.6999452, -12.6999492), (-13.407053153, -13.407053153), (-12.6999492, -13.6999452))
        make_face(mode=Mode.SUBTRACT)
        with BuildLine():
            Line((13.6999452, -12.6999492), (13.6999452, -9.880960476))
            ThreePointArc((13.6999452, -9.880960476), (13.58835333, -9.61155387), (13.318946724, -9.499962))
            Line((13.318946724, -9.499962), (9.87996048, -9.499962))
            ThreePointArc((9.87996048, -9.499962), (9.611260978, -9.611260978), (9.499962, -9.87996048))
            Line((9.499962, -9.87996048), (9.499962, -13.318946724))
            ThreePointArc((9.499962, -13.318946724), (9.61155387, -13.58835333), (9.880960476, -13.6999452))
            Line((9.880960476, -13.6999452), (12.6999492, -13.6999452))
            ThreePointArc((12.6999492, -13.6999452), (13.407053153, -13.407053153), (13.6999452, -12.6999492))
        make_face(mode=Mode.SUBTRACT)
        with BuildLine():
            Line((9.87996048, 9.499962), (13.318946724, 9.499962))
            ThreePointArc((13.318946724, 9.499962), (13.58835333, 9.61155387), (13.6999452, 9.880960476))
            Line((13.6999452, 9.880960476), (13.6999452, 12.6999492))
            ThreePointArc((13.6999452, 12.6999492), (13.407053153, 13.407053153), (12.6999492, 13.6999452))
            Line((12.6999492, 13.6999452), (9.880960476, 13.6999452))
            ThreePointArc((9.880960476, 13.6999452), (9.61155387, 13.58835333), (9.499962, 13.318946724))
            Line((9.499962, 13.318946724), (9.499962, 9.87996048))
            ThreePointArc((9.499962, 9.87996048), (9.611260978, 9.611260978), (9.87996048, 9.499962))
        make_face(mode=Mode.SUBTRACT)
        with BuildLine():
            Line((-13.6999452, 12.6999492), (-13.6999452, 9.880960476))
            ThreePointArc((-13.6999452, 9.880960476), (-13.58835333, 9.61155387), (-13.318946724, 9.499962))
            Line((-13.318946724, 9.499962), (-9.87996048, 9.499962))
            ThreePointArc((-9.87996048, 9.499962), (-9.611260978, 9.611260978), (-9.499962, 9.87996048))
            Line((-9.499962, 9.87996048), (-9.499962, 13.318946724))
            ThreePointArc((-9.499962, 13.318946724), (-9.61155387, 13.58835333), (-9.880960476, 13.6999452))
            Line((-9.880960476, 13.6999452), (-12.6999492, 13.6999452))
            ThreePointArc((-12.6999492, 13.6999452), (-13.407053153, 13.407053153), (-13.6999452, 12.6999492))
        make_face(mode=Mode.SUBTRACT)
    extrude(amount=BOSS_EXTRUDE1_DEPTH, both=True)


solid = part.part
